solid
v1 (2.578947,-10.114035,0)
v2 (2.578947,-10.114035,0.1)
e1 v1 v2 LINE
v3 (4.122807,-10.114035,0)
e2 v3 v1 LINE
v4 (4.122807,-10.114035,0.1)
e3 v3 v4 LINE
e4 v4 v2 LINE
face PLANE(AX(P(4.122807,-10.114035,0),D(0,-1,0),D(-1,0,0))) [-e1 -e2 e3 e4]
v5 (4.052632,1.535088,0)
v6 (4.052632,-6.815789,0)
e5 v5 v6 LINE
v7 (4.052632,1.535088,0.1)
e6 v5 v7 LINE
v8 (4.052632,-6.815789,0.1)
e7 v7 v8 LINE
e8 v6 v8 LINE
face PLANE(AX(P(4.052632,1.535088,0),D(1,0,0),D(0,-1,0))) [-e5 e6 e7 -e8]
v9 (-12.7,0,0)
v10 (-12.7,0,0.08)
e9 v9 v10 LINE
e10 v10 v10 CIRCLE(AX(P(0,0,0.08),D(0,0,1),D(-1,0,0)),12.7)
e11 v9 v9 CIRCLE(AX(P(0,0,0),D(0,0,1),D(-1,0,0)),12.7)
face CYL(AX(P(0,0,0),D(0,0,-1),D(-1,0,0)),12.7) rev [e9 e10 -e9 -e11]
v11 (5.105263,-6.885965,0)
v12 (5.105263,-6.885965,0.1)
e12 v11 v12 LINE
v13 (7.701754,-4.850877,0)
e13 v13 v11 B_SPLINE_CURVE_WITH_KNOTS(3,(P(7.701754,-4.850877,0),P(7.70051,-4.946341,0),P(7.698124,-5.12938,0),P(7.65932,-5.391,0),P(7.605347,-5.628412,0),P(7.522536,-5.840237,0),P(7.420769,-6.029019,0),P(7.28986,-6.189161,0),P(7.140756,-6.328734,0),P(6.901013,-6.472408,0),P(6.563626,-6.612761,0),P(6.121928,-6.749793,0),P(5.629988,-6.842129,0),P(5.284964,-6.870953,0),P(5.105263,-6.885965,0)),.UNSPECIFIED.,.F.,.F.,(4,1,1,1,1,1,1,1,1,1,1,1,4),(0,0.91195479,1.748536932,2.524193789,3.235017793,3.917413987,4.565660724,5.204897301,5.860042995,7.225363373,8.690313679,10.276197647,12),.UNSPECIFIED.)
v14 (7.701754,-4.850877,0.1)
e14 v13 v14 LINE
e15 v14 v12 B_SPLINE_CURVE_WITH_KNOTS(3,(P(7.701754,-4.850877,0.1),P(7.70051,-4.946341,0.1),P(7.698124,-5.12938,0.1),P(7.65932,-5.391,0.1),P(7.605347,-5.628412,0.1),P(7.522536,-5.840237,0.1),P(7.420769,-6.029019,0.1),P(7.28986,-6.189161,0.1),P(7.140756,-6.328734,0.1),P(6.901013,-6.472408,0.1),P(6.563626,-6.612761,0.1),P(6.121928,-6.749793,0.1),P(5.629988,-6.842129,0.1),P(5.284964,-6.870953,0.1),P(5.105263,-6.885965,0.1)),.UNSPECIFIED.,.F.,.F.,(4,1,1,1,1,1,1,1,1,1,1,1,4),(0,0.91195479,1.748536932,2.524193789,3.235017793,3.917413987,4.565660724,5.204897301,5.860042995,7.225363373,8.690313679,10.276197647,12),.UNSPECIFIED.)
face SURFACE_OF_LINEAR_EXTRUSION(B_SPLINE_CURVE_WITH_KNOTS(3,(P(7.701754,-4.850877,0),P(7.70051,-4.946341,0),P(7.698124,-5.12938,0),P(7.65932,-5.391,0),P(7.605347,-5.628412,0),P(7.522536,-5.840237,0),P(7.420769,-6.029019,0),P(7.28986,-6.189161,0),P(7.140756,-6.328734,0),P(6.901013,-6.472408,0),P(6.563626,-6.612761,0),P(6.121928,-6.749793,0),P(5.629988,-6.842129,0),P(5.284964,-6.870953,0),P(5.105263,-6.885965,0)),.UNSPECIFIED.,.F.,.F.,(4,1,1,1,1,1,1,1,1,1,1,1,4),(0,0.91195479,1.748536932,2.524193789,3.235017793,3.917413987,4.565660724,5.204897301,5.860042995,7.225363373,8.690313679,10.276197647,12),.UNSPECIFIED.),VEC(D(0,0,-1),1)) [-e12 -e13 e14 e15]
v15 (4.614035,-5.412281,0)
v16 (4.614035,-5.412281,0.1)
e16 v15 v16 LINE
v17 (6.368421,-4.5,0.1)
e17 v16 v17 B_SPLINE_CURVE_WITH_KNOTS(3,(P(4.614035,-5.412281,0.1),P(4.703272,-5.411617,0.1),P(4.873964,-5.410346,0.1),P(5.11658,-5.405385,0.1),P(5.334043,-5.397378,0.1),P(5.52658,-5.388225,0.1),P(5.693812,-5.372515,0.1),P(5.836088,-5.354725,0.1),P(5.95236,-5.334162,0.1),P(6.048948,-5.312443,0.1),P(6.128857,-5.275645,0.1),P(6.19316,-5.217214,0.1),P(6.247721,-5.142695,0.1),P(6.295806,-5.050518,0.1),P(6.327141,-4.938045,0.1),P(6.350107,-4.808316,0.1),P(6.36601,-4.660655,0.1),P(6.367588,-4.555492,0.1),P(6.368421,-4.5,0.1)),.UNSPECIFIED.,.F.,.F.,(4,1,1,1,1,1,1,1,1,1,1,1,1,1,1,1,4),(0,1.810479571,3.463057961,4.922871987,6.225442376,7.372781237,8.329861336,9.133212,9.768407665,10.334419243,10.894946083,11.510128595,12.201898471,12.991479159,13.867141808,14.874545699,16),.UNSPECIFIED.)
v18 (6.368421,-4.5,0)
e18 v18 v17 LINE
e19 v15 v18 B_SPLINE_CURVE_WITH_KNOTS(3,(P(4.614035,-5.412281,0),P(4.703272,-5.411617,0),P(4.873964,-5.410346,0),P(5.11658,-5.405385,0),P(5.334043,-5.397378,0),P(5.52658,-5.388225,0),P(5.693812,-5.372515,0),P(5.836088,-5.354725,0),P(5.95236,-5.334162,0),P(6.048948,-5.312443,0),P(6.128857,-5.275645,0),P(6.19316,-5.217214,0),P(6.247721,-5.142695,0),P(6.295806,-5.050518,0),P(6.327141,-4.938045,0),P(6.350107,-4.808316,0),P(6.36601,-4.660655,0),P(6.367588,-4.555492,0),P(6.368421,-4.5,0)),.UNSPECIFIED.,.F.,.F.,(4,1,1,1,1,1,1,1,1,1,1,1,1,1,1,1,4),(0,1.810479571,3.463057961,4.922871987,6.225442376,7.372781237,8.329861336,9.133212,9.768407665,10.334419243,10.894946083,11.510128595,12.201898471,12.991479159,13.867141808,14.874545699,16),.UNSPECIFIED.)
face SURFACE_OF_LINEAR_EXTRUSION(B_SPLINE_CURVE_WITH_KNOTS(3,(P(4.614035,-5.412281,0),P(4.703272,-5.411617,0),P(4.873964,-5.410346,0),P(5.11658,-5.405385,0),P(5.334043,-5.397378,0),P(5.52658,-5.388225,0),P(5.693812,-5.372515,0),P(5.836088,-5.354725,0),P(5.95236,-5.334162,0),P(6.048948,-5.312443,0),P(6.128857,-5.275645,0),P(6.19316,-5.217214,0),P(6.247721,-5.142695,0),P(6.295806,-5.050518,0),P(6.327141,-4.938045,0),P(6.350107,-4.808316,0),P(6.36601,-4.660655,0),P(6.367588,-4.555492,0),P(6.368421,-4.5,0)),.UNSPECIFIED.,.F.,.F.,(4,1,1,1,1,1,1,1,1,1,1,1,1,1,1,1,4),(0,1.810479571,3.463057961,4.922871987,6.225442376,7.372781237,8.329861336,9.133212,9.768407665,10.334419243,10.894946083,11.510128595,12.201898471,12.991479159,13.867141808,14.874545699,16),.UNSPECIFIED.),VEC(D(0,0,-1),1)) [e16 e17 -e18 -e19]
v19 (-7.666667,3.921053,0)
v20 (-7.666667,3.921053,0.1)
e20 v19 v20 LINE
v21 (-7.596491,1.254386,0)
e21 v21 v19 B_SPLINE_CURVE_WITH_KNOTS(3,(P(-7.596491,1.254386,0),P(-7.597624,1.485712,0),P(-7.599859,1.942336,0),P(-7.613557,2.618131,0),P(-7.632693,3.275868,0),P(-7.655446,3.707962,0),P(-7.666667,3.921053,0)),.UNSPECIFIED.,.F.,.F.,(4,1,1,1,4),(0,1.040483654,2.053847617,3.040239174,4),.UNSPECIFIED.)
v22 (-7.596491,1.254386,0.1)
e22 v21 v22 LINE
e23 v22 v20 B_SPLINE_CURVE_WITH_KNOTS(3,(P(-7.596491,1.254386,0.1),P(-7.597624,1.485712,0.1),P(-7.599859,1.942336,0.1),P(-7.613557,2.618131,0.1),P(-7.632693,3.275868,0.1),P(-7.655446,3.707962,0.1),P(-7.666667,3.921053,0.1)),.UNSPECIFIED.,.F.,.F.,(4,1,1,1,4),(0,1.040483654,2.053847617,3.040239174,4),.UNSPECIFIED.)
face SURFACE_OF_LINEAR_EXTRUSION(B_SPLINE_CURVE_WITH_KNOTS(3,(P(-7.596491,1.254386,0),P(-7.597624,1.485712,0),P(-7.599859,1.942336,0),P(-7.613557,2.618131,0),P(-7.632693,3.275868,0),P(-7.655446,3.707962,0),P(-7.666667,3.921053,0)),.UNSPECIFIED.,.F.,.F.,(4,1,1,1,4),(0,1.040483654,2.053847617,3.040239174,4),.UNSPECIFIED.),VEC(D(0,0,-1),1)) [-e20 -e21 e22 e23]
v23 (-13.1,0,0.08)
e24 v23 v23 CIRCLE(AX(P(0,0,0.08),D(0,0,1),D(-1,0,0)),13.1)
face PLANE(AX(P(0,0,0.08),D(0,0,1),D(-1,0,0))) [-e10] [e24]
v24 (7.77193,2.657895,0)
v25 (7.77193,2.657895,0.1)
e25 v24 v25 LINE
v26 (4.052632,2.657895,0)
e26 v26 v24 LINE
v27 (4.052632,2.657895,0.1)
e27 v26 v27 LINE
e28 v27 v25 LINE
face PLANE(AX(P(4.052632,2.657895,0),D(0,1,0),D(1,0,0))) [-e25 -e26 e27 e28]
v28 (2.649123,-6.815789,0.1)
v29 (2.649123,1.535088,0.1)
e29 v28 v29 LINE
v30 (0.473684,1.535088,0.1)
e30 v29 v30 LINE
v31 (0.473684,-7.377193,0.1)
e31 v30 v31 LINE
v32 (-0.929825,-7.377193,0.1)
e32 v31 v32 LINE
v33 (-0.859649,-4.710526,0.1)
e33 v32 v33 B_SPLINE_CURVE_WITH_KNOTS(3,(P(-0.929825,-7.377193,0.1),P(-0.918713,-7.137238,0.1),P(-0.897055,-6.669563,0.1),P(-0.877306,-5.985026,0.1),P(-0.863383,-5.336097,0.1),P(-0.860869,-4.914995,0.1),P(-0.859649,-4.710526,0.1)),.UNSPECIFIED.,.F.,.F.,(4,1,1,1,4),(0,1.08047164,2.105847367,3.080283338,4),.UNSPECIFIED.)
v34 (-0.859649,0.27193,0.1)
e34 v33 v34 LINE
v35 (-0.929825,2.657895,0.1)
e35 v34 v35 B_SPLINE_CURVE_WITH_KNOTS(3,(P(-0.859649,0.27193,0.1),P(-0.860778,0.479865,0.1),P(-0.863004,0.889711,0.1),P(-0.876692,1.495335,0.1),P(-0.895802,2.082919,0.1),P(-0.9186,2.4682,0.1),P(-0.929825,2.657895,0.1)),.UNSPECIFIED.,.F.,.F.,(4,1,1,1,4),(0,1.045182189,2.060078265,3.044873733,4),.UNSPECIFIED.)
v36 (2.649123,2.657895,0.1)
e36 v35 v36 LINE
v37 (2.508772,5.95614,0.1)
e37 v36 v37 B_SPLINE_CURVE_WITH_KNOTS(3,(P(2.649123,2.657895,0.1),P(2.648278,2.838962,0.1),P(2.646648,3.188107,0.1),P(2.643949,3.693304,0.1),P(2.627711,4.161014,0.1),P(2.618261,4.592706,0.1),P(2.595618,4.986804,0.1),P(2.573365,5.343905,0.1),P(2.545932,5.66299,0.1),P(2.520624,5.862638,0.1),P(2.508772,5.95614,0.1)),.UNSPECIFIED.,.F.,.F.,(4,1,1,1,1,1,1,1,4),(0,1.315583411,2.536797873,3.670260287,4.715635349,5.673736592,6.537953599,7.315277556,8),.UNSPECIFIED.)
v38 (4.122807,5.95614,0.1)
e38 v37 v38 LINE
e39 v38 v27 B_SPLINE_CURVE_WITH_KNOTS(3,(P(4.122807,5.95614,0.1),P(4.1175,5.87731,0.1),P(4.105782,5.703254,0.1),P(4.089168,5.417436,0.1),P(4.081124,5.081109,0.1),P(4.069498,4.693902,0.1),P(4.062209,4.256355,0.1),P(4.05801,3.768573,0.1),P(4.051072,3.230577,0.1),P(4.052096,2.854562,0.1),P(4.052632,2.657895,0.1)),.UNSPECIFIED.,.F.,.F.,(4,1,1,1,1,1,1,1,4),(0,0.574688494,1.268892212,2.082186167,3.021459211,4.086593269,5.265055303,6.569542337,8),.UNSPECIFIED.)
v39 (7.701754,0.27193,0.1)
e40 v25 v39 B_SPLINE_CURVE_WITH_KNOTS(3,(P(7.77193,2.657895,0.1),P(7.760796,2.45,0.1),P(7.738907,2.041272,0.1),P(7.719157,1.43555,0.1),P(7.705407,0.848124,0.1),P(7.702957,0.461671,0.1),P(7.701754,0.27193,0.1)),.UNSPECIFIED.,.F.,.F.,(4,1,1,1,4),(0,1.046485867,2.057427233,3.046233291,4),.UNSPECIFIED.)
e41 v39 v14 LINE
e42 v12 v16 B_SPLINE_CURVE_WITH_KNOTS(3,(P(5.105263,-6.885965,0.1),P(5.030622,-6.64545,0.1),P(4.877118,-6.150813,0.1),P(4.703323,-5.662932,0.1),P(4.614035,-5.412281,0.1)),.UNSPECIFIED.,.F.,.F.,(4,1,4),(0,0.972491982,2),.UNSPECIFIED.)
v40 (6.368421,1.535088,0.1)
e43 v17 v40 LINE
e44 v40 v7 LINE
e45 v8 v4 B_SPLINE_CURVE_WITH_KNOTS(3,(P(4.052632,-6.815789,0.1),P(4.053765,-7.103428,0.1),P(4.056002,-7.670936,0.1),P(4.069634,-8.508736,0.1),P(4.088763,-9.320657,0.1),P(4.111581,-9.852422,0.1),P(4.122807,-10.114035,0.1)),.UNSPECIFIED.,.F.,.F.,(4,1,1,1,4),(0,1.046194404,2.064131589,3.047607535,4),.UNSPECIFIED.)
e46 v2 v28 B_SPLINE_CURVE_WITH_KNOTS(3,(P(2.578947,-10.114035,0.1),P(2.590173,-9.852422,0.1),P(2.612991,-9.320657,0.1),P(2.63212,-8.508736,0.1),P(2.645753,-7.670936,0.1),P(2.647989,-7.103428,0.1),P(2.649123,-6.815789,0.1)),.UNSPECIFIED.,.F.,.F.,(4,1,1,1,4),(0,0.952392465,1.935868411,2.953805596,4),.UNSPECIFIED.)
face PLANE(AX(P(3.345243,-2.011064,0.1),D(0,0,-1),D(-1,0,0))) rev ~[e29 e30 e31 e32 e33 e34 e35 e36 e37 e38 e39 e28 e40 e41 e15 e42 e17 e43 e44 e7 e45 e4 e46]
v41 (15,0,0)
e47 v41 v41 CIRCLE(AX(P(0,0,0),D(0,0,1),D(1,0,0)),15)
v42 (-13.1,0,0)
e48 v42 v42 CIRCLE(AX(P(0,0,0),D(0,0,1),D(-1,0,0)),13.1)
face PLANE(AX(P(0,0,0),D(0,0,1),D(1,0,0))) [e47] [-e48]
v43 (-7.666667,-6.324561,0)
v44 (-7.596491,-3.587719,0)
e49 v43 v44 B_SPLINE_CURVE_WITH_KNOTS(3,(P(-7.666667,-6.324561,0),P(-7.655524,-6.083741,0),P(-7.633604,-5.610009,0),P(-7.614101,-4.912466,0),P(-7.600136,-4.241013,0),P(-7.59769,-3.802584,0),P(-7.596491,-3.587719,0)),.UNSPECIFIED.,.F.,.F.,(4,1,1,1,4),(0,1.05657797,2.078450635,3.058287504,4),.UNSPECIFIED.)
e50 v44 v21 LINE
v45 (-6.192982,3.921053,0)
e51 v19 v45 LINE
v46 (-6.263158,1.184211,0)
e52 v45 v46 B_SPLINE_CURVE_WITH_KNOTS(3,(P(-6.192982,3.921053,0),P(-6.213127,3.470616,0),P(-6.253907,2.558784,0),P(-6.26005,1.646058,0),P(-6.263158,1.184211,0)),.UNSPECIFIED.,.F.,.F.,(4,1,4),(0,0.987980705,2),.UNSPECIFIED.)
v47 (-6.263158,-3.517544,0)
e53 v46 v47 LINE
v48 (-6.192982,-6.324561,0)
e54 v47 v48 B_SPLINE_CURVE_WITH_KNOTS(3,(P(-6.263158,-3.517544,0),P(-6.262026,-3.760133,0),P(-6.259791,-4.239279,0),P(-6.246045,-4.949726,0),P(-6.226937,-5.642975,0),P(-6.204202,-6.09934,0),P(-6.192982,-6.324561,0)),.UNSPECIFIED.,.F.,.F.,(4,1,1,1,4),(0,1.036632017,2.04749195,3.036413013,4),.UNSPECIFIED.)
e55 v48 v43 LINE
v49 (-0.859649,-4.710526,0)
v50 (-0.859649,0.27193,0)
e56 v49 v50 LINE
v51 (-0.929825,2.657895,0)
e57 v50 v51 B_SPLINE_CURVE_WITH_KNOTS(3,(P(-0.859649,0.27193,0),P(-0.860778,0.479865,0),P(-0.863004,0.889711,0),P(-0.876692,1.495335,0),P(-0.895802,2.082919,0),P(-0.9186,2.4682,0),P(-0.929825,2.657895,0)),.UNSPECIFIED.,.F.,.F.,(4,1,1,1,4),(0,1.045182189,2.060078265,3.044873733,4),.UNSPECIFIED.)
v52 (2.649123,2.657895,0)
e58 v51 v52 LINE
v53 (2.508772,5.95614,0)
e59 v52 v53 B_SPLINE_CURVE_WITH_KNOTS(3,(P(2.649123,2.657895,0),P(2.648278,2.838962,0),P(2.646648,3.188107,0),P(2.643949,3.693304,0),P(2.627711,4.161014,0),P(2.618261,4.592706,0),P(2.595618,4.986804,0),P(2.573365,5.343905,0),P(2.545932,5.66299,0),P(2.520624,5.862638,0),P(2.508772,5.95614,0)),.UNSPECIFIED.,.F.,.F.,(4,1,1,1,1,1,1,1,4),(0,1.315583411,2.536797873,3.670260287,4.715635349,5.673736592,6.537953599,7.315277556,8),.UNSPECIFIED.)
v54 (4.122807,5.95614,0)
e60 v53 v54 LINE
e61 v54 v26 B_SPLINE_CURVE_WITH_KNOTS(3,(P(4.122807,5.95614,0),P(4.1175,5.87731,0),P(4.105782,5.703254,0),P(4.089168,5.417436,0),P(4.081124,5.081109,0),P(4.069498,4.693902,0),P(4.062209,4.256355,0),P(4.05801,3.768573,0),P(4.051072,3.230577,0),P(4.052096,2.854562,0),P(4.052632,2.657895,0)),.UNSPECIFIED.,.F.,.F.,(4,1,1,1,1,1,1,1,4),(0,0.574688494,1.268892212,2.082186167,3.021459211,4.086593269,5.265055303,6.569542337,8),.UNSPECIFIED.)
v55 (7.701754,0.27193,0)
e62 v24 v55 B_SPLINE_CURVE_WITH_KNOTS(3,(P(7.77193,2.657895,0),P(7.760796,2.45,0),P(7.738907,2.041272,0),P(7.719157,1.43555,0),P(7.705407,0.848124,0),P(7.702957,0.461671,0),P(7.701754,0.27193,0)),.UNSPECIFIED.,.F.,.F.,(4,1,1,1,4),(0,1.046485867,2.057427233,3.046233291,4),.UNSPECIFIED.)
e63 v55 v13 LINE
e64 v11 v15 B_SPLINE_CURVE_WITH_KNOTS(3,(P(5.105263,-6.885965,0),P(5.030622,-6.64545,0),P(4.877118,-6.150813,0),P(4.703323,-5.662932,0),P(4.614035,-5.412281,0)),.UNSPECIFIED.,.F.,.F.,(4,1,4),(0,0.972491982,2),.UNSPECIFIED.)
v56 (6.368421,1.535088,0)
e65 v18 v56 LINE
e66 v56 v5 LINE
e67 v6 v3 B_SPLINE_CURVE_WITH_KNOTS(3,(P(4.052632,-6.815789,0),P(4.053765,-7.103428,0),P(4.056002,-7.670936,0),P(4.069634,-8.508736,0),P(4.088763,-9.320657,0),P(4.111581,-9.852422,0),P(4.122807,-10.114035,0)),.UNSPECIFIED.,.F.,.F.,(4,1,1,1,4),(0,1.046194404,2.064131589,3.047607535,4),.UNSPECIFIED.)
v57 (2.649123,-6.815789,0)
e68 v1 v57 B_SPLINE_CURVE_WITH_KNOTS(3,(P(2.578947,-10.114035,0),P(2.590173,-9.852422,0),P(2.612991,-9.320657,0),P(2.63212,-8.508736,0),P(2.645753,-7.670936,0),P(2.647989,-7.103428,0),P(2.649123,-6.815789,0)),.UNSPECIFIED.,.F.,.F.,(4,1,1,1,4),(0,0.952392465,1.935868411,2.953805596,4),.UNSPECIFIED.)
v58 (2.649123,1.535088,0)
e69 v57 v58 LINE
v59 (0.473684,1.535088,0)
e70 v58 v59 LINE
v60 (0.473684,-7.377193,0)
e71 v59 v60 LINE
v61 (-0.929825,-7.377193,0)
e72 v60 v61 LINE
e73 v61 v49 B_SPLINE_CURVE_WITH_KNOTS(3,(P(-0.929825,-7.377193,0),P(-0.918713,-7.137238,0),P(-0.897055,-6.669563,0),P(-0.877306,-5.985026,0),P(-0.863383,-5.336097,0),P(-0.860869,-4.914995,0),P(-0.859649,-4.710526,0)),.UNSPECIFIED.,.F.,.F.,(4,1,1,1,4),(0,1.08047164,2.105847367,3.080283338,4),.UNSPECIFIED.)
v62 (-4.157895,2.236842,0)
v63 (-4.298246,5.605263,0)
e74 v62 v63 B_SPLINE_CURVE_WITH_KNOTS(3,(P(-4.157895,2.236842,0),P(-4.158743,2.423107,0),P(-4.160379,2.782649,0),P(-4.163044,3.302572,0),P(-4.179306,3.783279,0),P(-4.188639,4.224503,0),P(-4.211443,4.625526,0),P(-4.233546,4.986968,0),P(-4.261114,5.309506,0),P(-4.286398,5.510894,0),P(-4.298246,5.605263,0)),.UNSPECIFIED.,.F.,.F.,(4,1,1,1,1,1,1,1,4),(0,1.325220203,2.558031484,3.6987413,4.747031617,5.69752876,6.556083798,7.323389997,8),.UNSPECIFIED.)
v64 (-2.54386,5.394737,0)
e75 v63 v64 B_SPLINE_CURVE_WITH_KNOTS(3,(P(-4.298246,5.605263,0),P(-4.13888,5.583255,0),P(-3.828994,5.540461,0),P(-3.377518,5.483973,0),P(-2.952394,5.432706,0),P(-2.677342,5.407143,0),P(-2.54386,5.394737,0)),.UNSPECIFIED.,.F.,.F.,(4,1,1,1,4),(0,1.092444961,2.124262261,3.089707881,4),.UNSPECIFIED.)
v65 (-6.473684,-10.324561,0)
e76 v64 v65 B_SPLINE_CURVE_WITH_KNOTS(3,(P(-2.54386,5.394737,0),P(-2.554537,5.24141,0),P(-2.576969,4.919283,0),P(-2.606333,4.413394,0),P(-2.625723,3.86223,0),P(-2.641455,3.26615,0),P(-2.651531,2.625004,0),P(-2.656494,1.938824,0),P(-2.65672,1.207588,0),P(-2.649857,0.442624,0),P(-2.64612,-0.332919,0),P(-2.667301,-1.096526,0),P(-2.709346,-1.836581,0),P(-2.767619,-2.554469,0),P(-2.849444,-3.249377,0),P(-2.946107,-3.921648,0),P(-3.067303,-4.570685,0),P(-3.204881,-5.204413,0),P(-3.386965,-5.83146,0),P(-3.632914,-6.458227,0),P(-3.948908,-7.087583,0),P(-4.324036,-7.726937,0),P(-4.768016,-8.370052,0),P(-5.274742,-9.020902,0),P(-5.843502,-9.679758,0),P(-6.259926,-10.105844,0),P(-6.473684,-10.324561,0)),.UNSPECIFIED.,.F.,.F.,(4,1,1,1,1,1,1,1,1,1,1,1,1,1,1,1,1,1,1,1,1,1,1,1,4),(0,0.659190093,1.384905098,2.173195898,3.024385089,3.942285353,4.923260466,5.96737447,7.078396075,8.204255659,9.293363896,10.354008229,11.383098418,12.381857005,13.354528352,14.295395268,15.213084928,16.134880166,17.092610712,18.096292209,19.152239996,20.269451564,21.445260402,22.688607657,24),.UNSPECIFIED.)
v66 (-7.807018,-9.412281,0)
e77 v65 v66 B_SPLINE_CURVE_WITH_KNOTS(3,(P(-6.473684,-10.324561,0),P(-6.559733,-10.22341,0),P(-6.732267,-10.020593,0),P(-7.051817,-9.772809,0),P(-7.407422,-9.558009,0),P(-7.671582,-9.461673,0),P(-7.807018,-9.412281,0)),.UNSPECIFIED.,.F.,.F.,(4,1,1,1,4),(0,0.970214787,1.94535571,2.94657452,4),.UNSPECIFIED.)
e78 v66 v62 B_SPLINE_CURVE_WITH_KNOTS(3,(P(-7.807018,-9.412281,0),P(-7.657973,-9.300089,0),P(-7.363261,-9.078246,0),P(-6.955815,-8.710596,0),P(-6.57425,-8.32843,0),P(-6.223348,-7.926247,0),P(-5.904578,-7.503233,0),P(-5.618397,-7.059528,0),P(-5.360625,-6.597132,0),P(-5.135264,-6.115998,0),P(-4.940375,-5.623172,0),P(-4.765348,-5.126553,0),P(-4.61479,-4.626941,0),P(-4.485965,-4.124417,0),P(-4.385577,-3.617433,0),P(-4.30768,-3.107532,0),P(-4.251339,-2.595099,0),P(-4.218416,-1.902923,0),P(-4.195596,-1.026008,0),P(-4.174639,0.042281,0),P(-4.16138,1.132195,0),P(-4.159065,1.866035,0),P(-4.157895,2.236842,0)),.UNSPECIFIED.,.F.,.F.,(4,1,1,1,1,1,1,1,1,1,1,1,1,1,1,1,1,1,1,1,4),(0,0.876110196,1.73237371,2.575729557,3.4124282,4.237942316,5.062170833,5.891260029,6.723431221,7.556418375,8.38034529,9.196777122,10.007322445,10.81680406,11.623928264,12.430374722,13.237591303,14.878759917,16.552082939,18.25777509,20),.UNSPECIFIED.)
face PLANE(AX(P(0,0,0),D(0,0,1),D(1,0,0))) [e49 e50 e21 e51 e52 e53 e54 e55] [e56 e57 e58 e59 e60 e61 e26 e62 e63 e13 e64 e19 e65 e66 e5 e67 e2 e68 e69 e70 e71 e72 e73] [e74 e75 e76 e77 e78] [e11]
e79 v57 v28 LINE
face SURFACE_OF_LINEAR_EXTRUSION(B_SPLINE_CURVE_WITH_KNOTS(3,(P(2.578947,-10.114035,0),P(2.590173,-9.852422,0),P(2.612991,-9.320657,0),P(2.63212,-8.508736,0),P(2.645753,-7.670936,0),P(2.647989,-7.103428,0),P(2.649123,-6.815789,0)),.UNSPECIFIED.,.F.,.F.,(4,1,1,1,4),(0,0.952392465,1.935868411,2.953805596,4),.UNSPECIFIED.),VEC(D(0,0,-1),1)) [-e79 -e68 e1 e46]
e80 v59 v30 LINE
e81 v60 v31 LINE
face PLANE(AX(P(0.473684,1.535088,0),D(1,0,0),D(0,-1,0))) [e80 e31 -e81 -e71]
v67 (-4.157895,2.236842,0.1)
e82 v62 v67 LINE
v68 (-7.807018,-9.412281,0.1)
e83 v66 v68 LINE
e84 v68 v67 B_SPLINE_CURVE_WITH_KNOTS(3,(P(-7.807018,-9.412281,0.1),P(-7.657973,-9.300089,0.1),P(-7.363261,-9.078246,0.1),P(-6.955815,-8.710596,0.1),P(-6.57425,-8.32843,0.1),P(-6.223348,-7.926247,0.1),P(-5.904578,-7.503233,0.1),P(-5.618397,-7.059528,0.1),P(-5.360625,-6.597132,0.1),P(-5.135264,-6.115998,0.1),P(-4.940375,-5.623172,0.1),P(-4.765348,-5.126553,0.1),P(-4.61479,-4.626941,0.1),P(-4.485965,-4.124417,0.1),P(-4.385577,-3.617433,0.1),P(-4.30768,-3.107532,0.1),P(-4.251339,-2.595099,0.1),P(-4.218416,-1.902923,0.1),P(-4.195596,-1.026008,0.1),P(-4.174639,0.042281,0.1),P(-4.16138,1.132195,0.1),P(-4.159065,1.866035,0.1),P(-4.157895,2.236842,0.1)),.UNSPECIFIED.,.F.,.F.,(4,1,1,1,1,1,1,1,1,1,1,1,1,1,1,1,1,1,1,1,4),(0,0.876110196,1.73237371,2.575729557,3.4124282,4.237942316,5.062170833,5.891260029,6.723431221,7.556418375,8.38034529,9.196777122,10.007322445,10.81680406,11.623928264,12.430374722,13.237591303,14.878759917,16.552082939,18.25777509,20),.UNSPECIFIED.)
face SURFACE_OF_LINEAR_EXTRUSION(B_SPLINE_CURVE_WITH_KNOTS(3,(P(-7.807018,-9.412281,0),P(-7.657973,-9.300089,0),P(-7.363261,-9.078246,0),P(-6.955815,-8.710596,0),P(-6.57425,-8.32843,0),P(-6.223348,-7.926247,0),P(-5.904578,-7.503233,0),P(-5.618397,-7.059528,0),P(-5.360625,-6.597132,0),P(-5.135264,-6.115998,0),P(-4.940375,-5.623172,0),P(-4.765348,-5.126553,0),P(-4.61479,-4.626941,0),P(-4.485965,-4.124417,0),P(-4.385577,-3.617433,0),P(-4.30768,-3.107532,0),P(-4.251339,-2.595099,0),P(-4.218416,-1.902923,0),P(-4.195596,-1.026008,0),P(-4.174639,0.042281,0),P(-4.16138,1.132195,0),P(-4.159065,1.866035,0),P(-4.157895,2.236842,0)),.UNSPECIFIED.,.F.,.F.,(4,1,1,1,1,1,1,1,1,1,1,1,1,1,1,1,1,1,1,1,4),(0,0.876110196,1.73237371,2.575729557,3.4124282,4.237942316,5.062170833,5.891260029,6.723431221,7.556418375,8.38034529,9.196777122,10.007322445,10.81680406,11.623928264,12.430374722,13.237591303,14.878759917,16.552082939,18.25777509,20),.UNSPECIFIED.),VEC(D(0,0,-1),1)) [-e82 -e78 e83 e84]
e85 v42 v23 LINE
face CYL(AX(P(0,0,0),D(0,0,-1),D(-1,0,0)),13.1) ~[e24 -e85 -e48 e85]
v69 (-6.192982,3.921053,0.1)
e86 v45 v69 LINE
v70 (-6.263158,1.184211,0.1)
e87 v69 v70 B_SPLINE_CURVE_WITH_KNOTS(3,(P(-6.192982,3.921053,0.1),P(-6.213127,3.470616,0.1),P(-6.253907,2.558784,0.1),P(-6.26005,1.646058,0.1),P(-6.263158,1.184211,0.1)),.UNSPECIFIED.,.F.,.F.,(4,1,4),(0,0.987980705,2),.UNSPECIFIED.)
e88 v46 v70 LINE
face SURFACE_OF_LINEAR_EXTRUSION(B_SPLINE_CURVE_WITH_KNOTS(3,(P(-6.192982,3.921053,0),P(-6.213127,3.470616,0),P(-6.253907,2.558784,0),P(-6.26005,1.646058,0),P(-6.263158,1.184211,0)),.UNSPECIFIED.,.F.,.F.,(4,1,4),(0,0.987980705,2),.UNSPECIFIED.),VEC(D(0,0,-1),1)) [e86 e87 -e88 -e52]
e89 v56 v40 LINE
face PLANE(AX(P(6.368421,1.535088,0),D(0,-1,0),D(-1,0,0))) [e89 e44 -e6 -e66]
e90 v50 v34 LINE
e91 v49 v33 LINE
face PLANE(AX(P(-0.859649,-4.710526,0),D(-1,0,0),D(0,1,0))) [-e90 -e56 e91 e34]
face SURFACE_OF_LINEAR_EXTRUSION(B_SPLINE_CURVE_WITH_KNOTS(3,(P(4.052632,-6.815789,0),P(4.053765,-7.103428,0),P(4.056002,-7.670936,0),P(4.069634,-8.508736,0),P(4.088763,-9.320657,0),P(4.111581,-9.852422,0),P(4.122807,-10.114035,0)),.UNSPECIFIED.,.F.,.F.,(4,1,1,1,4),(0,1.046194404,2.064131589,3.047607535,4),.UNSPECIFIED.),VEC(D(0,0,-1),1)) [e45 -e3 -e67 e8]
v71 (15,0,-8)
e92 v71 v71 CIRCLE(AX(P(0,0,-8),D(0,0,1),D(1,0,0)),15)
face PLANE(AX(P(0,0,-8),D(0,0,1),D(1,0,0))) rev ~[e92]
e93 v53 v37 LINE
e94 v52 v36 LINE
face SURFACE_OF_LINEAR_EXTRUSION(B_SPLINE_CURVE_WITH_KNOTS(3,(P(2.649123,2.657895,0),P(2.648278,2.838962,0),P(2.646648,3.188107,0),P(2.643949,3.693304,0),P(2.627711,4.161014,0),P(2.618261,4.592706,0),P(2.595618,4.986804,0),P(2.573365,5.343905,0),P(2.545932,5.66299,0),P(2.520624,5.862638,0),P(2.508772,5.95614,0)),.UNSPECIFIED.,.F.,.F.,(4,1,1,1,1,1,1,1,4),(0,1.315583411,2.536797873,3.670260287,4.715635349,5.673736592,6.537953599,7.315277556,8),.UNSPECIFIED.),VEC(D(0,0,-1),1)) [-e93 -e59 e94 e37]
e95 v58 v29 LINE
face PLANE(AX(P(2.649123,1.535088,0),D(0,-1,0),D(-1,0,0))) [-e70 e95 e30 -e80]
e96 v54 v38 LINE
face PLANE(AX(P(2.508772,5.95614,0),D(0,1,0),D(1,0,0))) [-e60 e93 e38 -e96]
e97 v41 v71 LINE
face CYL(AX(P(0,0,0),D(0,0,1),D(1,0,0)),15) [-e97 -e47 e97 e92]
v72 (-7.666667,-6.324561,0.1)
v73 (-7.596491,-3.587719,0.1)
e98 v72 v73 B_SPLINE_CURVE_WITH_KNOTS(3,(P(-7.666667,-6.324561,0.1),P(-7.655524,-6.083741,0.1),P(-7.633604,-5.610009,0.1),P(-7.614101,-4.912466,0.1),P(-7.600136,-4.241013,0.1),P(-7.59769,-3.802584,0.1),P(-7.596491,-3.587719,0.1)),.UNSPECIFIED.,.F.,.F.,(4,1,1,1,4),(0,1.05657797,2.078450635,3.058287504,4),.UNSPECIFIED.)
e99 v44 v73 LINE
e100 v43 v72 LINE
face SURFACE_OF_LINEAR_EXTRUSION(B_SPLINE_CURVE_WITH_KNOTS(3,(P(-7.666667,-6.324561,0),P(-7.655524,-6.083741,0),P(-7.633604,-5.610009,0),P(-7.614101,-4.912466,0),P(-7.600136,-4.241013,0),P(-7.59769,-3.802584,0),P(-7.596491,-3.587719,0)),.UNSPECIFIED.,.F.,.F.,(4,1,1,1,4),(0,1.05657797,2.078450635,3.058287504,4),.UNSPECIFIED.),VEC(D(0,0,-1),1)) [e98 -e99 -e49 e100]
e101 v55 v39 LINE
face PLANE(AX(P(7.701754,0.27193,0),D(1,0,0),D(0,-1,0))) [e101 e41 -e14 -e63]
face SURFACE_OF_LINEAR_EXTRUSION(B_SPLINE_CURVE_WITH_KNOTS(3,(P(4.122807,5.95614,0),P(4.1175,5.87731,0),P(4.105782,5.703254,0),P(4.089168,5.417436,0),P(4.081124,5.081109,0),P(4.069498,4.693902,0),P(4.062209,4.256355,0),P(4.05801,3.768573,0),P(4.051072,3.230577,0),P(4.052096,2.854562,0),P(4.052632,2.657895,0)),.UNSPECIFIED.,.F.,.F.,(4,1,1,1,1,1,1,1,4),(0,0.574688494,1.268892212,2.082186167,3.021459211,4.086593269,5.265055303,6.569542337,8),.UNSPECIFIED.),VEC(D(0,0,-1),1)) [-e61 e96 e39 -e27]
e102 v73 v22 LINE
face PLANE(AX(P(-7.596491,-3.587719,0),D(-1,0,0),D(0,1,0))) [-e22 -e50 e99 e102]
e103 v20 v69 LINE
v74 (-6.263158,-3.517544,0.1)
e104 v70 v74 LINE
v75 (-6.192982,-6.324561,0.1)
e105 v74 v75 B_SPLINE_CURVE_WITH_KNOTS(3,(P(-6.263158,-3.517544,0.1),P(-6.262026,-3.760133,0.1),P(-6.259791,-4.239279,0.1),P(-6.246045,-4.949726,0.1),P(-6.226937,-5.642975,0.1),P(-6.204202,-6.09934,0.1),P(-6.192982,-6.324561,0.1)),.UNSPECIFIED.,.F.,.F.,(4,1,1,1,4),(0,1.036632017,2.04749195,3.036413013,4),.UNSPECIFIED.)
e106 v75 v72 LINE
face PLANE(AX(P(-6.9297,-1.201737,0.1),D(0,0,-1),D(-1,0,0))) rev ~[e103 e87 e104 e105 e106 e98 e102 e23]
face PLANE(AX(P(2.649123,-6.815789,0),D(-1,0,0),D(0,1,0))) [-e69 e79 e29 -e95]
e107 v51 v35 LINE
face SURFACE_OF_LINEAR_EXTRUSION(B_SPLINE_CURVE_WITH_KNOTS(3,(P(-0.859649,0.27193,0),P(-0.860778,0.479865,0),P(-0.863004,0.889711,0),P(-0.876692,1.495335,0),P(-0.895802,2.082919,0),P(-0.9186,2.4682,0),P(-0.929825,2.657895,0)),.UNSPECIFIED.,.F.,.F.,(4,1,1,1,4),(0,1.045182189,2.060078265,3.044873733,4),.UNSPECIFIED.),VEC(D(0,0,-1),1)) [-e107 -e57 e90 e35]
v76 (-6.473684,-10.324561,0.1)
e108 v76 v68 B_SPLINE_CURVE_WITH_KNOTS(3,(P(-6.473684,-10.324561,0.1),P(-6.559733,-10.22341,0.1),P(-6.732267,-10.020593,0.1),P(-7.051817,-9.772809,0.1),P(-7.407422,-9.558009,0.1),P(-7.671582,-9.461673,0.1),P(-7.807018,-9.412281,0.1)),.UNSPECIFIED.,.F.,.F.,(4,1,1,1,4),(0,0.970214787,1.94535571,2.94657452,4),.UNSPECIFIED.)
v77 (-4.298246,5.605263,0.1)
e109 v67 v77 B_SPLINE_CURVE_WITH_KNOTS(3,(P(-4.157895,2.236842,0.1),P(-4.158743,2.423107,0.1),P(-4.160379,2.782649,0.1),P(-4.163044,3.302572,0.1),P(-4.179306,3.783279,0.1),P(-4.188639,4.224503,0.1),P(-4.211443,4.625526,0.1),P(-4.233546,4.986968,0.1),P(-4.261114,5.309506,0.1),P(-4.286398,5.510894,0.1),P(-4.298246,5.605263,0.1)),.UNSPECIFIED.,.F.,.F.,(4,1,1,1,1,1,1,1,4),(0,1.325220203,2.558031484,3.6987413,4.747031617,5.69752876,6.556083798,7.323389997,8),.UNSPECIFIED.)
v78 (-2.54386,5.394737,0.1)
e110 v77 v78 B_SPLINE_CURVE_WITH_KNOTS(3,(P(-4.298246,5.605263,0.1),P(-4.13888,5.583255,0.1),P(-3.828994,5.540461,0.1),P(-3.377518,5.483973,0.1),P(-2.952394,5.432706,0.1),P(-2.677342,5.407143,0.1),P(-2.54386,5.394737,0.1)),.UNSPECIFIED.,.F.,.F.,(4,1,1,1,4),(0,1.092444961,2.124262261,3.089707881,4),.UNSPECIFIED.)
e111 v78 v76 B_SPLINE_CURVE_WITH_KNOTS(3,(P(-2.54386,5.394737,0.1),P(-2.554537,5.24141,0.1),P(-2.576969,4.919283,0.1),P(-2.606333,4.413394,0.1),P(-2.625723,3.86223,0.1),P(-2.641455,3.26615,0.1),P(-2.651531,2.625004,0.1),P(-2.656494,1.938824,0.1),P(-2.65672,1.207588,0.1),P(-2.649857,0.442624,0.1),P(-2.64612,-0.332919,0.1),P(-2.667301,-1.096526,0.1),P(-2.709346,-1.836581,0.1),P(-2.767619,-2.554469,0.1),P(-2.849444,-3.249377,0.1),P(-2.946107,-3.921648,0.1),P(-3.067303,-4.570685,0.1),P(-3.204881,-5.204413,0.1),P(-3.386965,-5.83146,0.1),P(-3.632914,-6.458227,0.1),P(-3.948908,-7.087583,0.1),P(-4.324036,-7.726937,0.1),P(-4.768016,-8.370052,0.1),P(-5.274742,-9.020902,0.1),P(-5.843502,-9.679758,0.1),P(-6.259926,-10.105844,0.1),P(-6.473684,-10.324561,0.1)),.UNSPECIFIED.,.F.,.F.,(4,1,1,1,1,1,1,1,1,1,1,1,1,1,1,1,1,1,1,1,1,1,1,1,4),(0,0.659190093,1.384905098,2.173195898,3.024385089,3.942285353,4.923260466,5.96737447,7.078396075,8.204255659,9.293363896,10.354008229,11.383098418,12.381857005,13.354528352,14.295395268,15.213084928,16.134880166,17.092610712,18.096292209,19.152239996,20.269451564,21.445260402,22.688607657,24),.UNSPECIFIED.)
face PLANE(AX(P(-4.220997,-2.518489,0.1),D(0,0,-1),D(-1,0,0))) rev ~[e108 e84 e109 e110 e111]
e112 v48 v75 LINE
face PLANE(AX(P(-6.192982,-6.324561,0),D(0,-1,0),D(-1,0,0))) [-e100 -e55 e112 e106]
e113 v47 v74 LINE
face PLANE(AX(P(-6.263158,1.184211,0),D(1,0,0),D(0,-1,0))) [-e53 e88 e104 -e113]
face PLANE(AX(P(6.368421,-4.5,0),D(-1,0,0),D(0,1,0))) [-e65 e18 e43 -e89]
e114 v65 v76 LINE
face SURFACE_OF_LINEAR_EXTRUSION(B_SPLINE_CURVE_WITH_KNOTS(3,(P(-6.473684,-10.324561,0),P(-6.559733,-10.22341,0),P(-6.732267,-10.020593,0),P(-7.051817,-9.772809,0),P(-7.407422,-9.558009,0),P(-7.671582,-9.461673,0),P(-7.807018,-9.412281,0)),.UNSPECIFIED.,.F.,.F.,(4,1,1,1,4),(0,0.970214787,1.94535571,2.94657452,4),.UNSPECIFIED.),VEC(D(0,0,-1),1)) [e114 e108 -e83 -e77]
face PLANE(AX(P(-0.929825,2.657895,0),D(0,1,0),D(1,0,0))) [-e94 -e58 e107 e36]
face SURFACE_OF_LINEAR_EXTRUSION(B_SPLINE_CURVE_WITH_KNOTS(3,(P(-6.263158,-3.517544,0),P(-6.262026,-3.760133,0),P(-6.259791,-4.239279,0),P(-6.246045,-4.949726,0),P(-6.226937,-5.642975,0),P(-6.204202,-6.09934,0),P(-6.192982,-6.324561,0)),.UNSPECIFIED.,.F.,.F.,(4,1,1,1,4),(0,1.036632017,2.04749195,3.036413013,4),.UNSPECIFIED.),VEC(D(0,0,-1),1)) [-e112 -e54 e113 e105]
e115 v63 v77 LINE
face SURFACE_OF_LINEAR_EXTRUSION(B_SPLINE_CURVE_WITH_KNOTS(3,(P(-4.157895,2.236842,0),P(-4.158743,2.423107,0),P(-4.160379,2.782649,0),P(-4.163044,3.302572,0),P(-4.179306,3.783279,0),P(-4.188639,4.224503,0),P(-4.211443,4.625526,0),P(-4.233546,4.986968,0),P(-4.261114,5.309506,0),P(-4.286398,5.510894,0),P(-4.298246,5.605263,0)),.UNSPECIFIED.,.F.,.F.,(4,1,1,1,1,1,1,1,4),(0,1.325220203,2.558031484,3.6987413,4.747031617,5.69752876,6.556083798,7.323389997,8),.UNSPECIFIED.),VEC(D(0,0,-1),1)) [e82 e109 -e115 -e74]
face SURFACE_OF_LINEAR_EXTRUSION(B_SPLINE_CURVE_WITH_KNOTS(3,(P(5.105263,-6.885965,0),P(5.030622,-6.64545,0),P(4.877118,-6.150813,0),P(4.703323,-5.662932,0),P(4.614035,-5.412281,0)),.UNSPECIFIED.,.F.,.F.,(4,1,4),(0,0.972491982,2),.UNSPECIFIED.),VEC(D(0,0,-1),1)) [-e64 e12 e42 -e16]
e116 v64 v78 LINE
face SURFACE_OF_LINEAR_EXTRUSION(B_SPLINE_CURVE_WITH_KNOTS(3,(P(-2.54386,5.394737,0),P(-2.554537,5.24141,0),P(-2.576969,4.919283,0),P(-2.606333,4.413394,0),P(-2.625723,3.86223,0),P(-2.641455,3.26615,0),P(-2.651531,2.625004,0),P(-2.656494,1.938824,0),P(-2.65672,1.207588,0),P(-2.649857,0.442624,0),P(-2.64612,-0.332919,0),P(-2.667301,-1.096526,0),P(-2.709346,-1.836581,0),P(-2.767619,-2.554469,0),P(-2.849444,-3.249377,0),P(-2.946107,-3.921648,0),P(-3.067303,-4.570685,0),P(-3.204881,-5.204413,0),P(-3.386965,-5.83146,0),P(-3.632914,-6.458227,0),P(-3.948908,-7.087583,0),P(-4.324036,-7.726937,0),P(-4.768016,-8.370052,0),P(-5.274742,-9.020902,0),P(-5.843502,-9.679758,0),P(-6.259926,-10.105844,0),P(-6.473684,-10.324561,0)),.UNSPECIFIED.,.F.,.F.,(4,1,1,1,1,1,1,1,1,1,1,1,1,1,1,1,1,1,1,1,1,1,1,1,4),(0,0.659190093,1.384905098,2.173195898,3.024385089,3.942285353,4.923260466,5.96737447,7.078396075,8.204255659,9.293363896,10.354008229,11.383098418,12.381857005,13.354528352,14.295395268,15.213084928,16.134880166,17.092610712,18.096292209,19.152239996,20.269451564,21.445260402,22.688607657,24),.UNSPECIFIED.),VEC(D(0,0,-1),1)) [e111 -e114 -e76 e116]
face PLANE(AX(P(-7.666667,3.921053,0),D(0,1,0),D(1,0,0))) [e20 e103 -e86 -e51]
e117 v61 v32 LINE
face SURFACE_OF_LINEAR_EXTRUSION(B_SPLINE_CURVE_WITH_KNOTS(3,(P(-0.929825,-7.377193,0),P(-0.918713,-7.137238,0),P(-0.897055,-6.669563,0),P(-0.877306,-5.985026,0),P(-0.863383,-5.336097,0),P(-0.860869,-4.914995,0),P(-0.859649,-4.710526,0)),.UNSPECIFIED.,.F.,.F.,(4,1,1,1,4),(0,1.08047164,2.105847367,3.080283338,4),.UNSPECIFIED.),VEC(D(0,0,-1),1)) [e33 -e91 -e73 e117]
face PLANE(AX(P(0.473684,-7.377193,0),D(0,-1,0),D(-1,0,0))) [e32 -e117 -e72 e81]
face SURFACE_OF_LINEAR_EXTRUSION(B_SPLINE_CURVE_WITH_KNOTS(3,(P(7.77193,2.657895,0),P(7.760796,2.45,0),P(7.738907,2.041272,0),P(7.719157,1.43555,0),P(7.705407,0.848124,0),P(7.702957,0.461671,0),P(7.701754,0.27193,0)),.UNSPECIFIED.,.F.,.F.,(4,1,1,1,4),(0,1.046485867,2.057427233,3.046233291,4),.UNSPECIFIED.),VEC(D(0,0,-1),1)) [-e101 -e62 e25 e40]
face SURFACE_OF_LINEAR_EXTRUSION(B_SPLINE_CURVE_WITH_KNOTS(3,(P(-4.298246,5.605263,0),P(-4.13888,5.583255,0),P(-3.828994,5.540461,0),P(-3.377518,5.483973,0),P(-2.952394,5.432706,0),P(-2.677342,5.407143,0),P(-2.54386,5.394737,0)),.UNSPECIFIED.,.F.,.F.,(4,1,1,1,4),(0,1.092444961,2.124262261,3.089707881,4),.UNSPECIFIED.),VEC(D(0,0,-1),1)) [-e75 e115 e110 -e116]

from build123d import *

# Parameters (mm, degrees)
SKETCH_1_R               = 15
DIAMETER30_HEIGHT8_DEPTH = 8
CHARACTER_DEPTH          = 0.1
SKETCH_3_R               = 13.1
SKETCH_3_R_2             = 12.7
INK_RING_DEPTH           = 0.08


with BuildPart() as part:
    # 草图1 → Diameter30_Height8 (new body)
    with BuildSketch(Plane.XY):
        Circle(SKETCH_1_R)
    extrude(amount=-DIAMETER30_HEIGHT8_DEPTH)

    # 草图2 → Character_帅 (add)
    with BuildSketch(Plane.XY):
        with BuildLine():
            add(Edge.make_bspline(
                [(2.649122807, 2.657894737), (2.648277509, 2.838961546), (2.646647548, 3.188106947), (2.643949337, 3.693304246), (2.627710858, 4.161013978), (2.618261471, 4.592706352), (2.59561766, 4.986803608), (2.573364544, 5.343905172), (2.545932395, 5.6629896), (2.520624442, 5.862638482), (2.50877193, 5.956140351)],
                knots=[0, 0, 0, 0, 1.315583411, 2.536797873, 3.670260287, 4.715635349, 5.673736592, 6.537953599, 7.315277556, 8, 8, 8, 8], degree=3))
            Line((2.50877193, 5.956140351), (4.122807018, 5.956140351))
            add(Edge.make_bspline(
                [(4.122807018, 5.956140351), (4.117499898, 5.877309705), (4.105781963, 5.703254378), (4.089167905, 5.417436401), (4.081123846, 5.081109437), (4.069497803, 4.693902375), (4.062208699, 4.256354693), (4.058010495, 3.768573009), (4.051072159, 3.230576781), (4.052096052, 2.854561793), (4.052631579, 2.657894737)],
                knots=[0, 0, 0, 0, 0.574688494, 1.268892212, 2.082186167, 3.021459211, 4.086593269, 5.265055303, 6.569542337, 8, 8, 8, 8], degree=3))
            Line((4.052631579, 2.657894737), (7.771929825, 2.657894737))
            add(Edge.make_bspline(
                [(7.771929825, 2.657894737), (7.760796072, 2.449999982), (7.73890673, 2.041271737), (7.719157498, 1.435549924), (7.705407242, 0.848123825), (7.702957274, 0.461670931), (7.701754386, 0.271929825)],
                knots=[0, 0, 0, 0, 1.046485867, 2.057427233, 3.046233291, 4, 4, 4, 4], degree=3))
            Line((7.701754386, 0.271929825), (7.701754386, -4.850877193))
            add(Edge.make_bspline(
                [(7.701754386, -4.850877193), (7.700509851, -4.946341409), (7.69812364, -5.129379766), (7.659319509, -5.390999722), (7.605347303, -5.628411903), (7.522536164, -5.840237206), (7.420768732, -6.029019154), (7.289859981, -6.189160821), (7.140756422, -6.328733562), (6.901013102, -6.472408104), (6.563626246, -6.612761018), (6.121927666, -6.749793211), (5.6299881, -6.842128832), (5.284963987, -6.870952514), (5.105263158, -6.885964912)],
                knots=[0, 0, 0, 0, 0.91195479, 1.748536932, 2.524193789, 3.235017793, 3.917413987, 4.565660724, 5.204897301, 5.860042995, 7.225363373, 8.690313679, 10.276197647, 12, 12, 12, 12], degree=3))
            add(Edge.make_bspline(
                [(5.105263158, -6.885964912), (5.030622329, -6.645449861), (4.877118075, -6.150813287), (4.703323003, -5.662931781), (4.614035088, -5.412280702)],
                knots=[0, 0, 0, 0, 0.972491982, 2, 2, 2, 2], degree=3))
            add(Edge.make_bspline(
                [(4.614035088, -5.412280702), (4.703272413, -5.411616614), (4.873964221, -5.410346357), (5.116579774, -5.405384501), (5.334043291, -5.397378419), (5.526579613, -5.38822529), (5.693812444, -5.372515338), (5.836088174, -5.354724862), (5.952359909, -5.334162259), (6.04894766, -5.312443399), (6.128856661, -5.275644675), (6.193160306, -5.21721386), (6.247720931, -5.142694696), (6.295806352, -5.050517957), (6.327140956, -4.938045189), (6.350107, -4.808315534), (6.366009975, -4.660655055), (6.367588242, -4.555491891), (6.368421053, -4.5)],
                knots=[0, 0, 0, 0, 1.810479571, 3.463057961, 4.922871987, 6.225442376, 7.372781237, 8.329861336, 9.133212, 9.768407665, 10.334419243, 10.894946083, 11.510128595, 12.201898471, 12.991479159, 13.867141808, 14.874545699, 16, 16, 16, 16], degree=3))
            Line((6.368421053, -4.5), (6.368421053, 1.535087719))
            Line((6.368421053, 1.535087719), (4.052631579, 1.535087719))
            Line((4.052631579, 1.535087719), (4.052631579, -6.815789474))
            add(Edge.make_bspline(
                [(4.052631579, -6.815789474), (4.053765197, -7.103428128), (4.056001813, -7.670936452), (4.069634056, -8.508736417), (4.088763125, -9.320656714), (4.11158118, -9.852421744), (4.122807018, -10.114035088)],
                knots=[0, 0, 0, 0, 1.046194404, 2.064131589, 3.047607535, 4, 4, 4, 4], degree=3))
            Line((4.122807018, -10.114035088), (2.578947368, -10.114035088))
            add(Edge.make_bspline(
                [(2.578947368, -10.114035088), (2.590173206, -9.852421744), (2.612991261, -9.320656714), (2.63212033, -8.508736417), (2.645752573, -7.670936452), (2.647989189, -7.103428128), (2.649122807, -6.815789474)],
                knots=[0, 0, 0, 0, 0.952392465, 1.935868411, 2.953805596, 4, 4, 4, 4], degree=3))
            Line((2.649122807, -6.815789474), (2.649122807, 1.535087719))
            Line((2.649122807, 1.535087719), (0.473684211, 1.535087719))
            Line((0.473684211, 1.535087719), (0.473684211, -7.377192982))
            Line((0.473684211, -7.377192982), (-0.929824561, -7.377192982))
            add(Edge.make_bspline(
                [(-0.929824561, -7.377192982), (-0.918712527, -7.137237676), (-0.89705509, -6.669562974), (-0.877305751, -5.985025613), (-0.863382791, -5.336096743), (-0.860869477, -4.914994784), (-0.859649123, -4.710526316)],
                knots=[0, 0, 0, 0, 1.08047164, 2.105847367, 3.080283338, 4, 4, 4, 4], degree=3))
            Line((-0.859649123, -4.710526316), (-0.859649123, 0.271929825))
            add(Edge.make_bspline(
                [(-0.859649123, 0.271929825), (-0.860778179, 0.479865427), (-0.863003576, 0.889711309), (-0.876691761, 1.495334741), (-0.895801581, 2.082918827), (-0.918599793, 2.468200268), (-0.929824561, 2.657894737)],
                knots=[0, 0, 0, 0, 1.045182189, 2.060078265, 3.044873733, 4, 4, 4, 4], degree=3))
            Line((-0.929824561, 2.657894737), (2.649122807, 2.657894737))
        make_face()
        with BuildLine():
            add(Edge.make_bspline(
                [(-2.543859649, 5.394736842), (-2.55453691, 5.241410089), (-2.576968973, 4.919282974), (-2.606332671, 4.4133937), (-2.625722602, 3.862230343), (-2.641455489, 3.266150249), (-2.651530629, 2.625004365), (-2.656494342, 1.938824334), (-2.656719765, 1.207587715), (-2.649857053, 0.442624259), (-2.646120363, -0.33291913), (-2.667300728, -1.096525685), (-2.709346485, -1.836581392), (-2.767619156, -2.554468791), (-2.849443973, -3.249377344), (-2.946107025, -3.921647543), (-3.067303461, -4.570685232), (-3.204881304, -5.204412609), (-3.386965023, -5.831459902), (-3.6329141, -6.458227284), (-3.948908402, -7.087582997), (-4.324035754, -7.726937374), (-4.768016313, -8.370052347), (-5.274742334, -9.020901708), (-5.843502049, -9.679758443), (-6.259926358, -10.105844174), (-6.473684211, -10.324561404)],
                knots=[0, 0, 0, 0, 0.659190093, 1.384905098, 2.173195898, 3.024385089, 3.942285353, 4.923260466, 5.96737447, 7.078396075, 8.204255659, 9.293363896, 10.354008229, 11.383098418, 12.381857005, 13.354528352, 14.295395268, 15.213084928, 16.134880166, 17.092610712, 18.096292209, 19.152239996, 20.269451564, 21.445260402, 22.688607657, 24, 24, 24, 24], degree=3))
            add(Edge.make_bspline(
                [(-6.473684211, -10.324561404), (-6.559732909, -10.223409926), (-6.732267206, -10.020593389), (-7.051816717, -9.772809488), (-7.40742211, -9.558009314), (-7.671581713, -9.461672847), (-7.807017544, -9.412280702)],
                knots=[0, 0, 0, 0, 0.970214787, 1.94535571, 2.94657452, 4, 4, 4, 4], degree=3))
            add(Edge.make_bspline(
                [(-7.807017544, -9.412280702), (-7.657973182, -9.300088741), (-7.363260789, -9.078246324), (-6.955815499, -8.710596291), (-6.57424992, -8.328429932), (-6.223348035, -7.926246582), (-5.904578485, -7.503232626), (-5.618396742, -7.059527971), (-5.360624691, -6.597131501), (-5.135263603, -6.115997615), (-4.940375439, -5.623171603), (-4.765347571, -5.126552857), (-4.614790167, -4.626941063), (-4.485965447, -4.124417421), (-4.385577394, -3.617432725), (-4.307679883, -3.107532014), (-4.251338798, -2.595099135), (-4.218416323, -1.902922648), (-4.195596224, -1.026008016), (-4.174639454, 0.042281327), (-4.161380369, 1.13219518), (-4.159064793, 1.86603464), (-4.157894737, 2.236842105)],
                knots=[0, 0, 0, 0, 0.876110196, 1.73237371, 2.575729557, 3.4124282, 4.237942316, 5.062170833, 5.891260029, 6.723431221, 7.556418375, 8.38034529, 9.196777122, 10.007322445, 10.81680406, 11.623928264, 12.430374722, 13.237591303, 14.878759917, 16.552082939, 18.25777509, 20, 20, 20, 20], degree=3))
            add(Edge.make_bspline(
                [(-4.157894737, 2.236842105), (-4.158742697, 2.42310712), (-4.160379489, 2.782648704), (-4.163043616, 3.302572137), (-4.179306434, 3.783279411), (-4.188638552, 4.224503155), (-4.21144322, 4.62552561), (-4.233545861, 4.986968321), (-4.261113513, 5.309505904), (-4.286397635, 5.510893979), (-4.298245614, 5.605263158)],
                knots=[0, 0, 0, 0, 1.325220203, 2.558031484, 3.6987413, 4.747031617, 5.69752876, 6.556083798, 7.323389997, 8, 8, 8, 8], degree=3))
            add(Edge.make_bspline(
                [(-4.298245614, 5.605263158), (-4.138880204, 5.583255195), (-3.828993721, 5.54046065), (-3.377518369, 5.48397261), (-2.952393963, 5.432706182), (-2.677341911, 5.407142736), (-2.543859649, 5.394736842)],
                knots=[0, 0, 0, 0, 1.092444961, 2.124262261, 3.089707881, 4, 4, 4, 4], degree=3))
        make_face()
        with BuildLine():
            add(Edge.make_bspline(
                [(-6.192982456, 3.921052632), (-6.213127144, 3.470616313), (-6.25390666, 2.558784097), (-6.260049539, 1.646058489), (-6.263157895, 1.184210526)],
                knots=[0, 0, 0, 0, 0.987980705, 2, 2, 2, 2], degree=3))
            Line((-6.263157895, 1.184210526), (-6.263157895, -3.51754386))
            add(Edge.make_bspline(
                [(-6.263157895, -3.51754386), (-6.262026133, -3.760132755), (-6.259790748, -4.239279455), (-6.246045202, -4.949726115), (-6.226937452, -5.6429749), (-6.204202458, -6.099339702), (-6.192982456, -6.324561404)],
                knots=[0, 0, 0, 0, 1.036632017, 2.04749195, 3.036413013, 4, 4, 4, 4], degree=3))
            Line((-6.192982456, -6.324561404), (-7.666666667, -6.324561404))
            add(Edge.make_bspline(
                [(-7.666666667, -6.324561404), (-7.655523902, -6.083740603), (-7.633604379, -5.610009217), (-7.61410139, -4.912465947), (-7.600135574, -4.241012646), (-7.597689835, -3.802584211), (-7.596491228, -3.587719298)],
                knots=[0, 0, 0, 0, 1.05657797, 2.078450635, 3.058287504, 4, 4, 4, 4], degree=3))
            Line((-7.596491228, -3.587719298), (-7.596491228, 1.254385965))
            add(Edge.make_bspline(
                [(-7.596491228, 1.254385965), (-7.597623519, 1.485712467), (-7.599858589, 1.94233606), (-7.613556549, 2.618130935), (-7.632693155, 3.27586782), (-7.655445944, 3.707961922), (-7.666666667, 3.921052632)],
                knots=[0, 0, 0, 0, 1.040483654, 2.053847617, 3.040239174, 4, 4, 4, 4], degree=3))
            Line((-7.666666667, 3.921052632), (-6.192982456, 3.921052632))
        make_face()
    extrude(amount=CHARACTER_DEPTH)

    # 草图3 → Ink_ring (add)
    with BuildSketch(Plane.XY):
        with Locations(Location((0, 0, 0), (0, 0, 180))):
            Circle(SKETCH_3_R)
        with Locations(Location((0, 0, 0), (0, 0, 180))):
            Circle(SKETCH_3_R_2, mode=Mode.SUBTRACT)
    extrude(amount=INK_RING_DEPTH)


solid = part.part
